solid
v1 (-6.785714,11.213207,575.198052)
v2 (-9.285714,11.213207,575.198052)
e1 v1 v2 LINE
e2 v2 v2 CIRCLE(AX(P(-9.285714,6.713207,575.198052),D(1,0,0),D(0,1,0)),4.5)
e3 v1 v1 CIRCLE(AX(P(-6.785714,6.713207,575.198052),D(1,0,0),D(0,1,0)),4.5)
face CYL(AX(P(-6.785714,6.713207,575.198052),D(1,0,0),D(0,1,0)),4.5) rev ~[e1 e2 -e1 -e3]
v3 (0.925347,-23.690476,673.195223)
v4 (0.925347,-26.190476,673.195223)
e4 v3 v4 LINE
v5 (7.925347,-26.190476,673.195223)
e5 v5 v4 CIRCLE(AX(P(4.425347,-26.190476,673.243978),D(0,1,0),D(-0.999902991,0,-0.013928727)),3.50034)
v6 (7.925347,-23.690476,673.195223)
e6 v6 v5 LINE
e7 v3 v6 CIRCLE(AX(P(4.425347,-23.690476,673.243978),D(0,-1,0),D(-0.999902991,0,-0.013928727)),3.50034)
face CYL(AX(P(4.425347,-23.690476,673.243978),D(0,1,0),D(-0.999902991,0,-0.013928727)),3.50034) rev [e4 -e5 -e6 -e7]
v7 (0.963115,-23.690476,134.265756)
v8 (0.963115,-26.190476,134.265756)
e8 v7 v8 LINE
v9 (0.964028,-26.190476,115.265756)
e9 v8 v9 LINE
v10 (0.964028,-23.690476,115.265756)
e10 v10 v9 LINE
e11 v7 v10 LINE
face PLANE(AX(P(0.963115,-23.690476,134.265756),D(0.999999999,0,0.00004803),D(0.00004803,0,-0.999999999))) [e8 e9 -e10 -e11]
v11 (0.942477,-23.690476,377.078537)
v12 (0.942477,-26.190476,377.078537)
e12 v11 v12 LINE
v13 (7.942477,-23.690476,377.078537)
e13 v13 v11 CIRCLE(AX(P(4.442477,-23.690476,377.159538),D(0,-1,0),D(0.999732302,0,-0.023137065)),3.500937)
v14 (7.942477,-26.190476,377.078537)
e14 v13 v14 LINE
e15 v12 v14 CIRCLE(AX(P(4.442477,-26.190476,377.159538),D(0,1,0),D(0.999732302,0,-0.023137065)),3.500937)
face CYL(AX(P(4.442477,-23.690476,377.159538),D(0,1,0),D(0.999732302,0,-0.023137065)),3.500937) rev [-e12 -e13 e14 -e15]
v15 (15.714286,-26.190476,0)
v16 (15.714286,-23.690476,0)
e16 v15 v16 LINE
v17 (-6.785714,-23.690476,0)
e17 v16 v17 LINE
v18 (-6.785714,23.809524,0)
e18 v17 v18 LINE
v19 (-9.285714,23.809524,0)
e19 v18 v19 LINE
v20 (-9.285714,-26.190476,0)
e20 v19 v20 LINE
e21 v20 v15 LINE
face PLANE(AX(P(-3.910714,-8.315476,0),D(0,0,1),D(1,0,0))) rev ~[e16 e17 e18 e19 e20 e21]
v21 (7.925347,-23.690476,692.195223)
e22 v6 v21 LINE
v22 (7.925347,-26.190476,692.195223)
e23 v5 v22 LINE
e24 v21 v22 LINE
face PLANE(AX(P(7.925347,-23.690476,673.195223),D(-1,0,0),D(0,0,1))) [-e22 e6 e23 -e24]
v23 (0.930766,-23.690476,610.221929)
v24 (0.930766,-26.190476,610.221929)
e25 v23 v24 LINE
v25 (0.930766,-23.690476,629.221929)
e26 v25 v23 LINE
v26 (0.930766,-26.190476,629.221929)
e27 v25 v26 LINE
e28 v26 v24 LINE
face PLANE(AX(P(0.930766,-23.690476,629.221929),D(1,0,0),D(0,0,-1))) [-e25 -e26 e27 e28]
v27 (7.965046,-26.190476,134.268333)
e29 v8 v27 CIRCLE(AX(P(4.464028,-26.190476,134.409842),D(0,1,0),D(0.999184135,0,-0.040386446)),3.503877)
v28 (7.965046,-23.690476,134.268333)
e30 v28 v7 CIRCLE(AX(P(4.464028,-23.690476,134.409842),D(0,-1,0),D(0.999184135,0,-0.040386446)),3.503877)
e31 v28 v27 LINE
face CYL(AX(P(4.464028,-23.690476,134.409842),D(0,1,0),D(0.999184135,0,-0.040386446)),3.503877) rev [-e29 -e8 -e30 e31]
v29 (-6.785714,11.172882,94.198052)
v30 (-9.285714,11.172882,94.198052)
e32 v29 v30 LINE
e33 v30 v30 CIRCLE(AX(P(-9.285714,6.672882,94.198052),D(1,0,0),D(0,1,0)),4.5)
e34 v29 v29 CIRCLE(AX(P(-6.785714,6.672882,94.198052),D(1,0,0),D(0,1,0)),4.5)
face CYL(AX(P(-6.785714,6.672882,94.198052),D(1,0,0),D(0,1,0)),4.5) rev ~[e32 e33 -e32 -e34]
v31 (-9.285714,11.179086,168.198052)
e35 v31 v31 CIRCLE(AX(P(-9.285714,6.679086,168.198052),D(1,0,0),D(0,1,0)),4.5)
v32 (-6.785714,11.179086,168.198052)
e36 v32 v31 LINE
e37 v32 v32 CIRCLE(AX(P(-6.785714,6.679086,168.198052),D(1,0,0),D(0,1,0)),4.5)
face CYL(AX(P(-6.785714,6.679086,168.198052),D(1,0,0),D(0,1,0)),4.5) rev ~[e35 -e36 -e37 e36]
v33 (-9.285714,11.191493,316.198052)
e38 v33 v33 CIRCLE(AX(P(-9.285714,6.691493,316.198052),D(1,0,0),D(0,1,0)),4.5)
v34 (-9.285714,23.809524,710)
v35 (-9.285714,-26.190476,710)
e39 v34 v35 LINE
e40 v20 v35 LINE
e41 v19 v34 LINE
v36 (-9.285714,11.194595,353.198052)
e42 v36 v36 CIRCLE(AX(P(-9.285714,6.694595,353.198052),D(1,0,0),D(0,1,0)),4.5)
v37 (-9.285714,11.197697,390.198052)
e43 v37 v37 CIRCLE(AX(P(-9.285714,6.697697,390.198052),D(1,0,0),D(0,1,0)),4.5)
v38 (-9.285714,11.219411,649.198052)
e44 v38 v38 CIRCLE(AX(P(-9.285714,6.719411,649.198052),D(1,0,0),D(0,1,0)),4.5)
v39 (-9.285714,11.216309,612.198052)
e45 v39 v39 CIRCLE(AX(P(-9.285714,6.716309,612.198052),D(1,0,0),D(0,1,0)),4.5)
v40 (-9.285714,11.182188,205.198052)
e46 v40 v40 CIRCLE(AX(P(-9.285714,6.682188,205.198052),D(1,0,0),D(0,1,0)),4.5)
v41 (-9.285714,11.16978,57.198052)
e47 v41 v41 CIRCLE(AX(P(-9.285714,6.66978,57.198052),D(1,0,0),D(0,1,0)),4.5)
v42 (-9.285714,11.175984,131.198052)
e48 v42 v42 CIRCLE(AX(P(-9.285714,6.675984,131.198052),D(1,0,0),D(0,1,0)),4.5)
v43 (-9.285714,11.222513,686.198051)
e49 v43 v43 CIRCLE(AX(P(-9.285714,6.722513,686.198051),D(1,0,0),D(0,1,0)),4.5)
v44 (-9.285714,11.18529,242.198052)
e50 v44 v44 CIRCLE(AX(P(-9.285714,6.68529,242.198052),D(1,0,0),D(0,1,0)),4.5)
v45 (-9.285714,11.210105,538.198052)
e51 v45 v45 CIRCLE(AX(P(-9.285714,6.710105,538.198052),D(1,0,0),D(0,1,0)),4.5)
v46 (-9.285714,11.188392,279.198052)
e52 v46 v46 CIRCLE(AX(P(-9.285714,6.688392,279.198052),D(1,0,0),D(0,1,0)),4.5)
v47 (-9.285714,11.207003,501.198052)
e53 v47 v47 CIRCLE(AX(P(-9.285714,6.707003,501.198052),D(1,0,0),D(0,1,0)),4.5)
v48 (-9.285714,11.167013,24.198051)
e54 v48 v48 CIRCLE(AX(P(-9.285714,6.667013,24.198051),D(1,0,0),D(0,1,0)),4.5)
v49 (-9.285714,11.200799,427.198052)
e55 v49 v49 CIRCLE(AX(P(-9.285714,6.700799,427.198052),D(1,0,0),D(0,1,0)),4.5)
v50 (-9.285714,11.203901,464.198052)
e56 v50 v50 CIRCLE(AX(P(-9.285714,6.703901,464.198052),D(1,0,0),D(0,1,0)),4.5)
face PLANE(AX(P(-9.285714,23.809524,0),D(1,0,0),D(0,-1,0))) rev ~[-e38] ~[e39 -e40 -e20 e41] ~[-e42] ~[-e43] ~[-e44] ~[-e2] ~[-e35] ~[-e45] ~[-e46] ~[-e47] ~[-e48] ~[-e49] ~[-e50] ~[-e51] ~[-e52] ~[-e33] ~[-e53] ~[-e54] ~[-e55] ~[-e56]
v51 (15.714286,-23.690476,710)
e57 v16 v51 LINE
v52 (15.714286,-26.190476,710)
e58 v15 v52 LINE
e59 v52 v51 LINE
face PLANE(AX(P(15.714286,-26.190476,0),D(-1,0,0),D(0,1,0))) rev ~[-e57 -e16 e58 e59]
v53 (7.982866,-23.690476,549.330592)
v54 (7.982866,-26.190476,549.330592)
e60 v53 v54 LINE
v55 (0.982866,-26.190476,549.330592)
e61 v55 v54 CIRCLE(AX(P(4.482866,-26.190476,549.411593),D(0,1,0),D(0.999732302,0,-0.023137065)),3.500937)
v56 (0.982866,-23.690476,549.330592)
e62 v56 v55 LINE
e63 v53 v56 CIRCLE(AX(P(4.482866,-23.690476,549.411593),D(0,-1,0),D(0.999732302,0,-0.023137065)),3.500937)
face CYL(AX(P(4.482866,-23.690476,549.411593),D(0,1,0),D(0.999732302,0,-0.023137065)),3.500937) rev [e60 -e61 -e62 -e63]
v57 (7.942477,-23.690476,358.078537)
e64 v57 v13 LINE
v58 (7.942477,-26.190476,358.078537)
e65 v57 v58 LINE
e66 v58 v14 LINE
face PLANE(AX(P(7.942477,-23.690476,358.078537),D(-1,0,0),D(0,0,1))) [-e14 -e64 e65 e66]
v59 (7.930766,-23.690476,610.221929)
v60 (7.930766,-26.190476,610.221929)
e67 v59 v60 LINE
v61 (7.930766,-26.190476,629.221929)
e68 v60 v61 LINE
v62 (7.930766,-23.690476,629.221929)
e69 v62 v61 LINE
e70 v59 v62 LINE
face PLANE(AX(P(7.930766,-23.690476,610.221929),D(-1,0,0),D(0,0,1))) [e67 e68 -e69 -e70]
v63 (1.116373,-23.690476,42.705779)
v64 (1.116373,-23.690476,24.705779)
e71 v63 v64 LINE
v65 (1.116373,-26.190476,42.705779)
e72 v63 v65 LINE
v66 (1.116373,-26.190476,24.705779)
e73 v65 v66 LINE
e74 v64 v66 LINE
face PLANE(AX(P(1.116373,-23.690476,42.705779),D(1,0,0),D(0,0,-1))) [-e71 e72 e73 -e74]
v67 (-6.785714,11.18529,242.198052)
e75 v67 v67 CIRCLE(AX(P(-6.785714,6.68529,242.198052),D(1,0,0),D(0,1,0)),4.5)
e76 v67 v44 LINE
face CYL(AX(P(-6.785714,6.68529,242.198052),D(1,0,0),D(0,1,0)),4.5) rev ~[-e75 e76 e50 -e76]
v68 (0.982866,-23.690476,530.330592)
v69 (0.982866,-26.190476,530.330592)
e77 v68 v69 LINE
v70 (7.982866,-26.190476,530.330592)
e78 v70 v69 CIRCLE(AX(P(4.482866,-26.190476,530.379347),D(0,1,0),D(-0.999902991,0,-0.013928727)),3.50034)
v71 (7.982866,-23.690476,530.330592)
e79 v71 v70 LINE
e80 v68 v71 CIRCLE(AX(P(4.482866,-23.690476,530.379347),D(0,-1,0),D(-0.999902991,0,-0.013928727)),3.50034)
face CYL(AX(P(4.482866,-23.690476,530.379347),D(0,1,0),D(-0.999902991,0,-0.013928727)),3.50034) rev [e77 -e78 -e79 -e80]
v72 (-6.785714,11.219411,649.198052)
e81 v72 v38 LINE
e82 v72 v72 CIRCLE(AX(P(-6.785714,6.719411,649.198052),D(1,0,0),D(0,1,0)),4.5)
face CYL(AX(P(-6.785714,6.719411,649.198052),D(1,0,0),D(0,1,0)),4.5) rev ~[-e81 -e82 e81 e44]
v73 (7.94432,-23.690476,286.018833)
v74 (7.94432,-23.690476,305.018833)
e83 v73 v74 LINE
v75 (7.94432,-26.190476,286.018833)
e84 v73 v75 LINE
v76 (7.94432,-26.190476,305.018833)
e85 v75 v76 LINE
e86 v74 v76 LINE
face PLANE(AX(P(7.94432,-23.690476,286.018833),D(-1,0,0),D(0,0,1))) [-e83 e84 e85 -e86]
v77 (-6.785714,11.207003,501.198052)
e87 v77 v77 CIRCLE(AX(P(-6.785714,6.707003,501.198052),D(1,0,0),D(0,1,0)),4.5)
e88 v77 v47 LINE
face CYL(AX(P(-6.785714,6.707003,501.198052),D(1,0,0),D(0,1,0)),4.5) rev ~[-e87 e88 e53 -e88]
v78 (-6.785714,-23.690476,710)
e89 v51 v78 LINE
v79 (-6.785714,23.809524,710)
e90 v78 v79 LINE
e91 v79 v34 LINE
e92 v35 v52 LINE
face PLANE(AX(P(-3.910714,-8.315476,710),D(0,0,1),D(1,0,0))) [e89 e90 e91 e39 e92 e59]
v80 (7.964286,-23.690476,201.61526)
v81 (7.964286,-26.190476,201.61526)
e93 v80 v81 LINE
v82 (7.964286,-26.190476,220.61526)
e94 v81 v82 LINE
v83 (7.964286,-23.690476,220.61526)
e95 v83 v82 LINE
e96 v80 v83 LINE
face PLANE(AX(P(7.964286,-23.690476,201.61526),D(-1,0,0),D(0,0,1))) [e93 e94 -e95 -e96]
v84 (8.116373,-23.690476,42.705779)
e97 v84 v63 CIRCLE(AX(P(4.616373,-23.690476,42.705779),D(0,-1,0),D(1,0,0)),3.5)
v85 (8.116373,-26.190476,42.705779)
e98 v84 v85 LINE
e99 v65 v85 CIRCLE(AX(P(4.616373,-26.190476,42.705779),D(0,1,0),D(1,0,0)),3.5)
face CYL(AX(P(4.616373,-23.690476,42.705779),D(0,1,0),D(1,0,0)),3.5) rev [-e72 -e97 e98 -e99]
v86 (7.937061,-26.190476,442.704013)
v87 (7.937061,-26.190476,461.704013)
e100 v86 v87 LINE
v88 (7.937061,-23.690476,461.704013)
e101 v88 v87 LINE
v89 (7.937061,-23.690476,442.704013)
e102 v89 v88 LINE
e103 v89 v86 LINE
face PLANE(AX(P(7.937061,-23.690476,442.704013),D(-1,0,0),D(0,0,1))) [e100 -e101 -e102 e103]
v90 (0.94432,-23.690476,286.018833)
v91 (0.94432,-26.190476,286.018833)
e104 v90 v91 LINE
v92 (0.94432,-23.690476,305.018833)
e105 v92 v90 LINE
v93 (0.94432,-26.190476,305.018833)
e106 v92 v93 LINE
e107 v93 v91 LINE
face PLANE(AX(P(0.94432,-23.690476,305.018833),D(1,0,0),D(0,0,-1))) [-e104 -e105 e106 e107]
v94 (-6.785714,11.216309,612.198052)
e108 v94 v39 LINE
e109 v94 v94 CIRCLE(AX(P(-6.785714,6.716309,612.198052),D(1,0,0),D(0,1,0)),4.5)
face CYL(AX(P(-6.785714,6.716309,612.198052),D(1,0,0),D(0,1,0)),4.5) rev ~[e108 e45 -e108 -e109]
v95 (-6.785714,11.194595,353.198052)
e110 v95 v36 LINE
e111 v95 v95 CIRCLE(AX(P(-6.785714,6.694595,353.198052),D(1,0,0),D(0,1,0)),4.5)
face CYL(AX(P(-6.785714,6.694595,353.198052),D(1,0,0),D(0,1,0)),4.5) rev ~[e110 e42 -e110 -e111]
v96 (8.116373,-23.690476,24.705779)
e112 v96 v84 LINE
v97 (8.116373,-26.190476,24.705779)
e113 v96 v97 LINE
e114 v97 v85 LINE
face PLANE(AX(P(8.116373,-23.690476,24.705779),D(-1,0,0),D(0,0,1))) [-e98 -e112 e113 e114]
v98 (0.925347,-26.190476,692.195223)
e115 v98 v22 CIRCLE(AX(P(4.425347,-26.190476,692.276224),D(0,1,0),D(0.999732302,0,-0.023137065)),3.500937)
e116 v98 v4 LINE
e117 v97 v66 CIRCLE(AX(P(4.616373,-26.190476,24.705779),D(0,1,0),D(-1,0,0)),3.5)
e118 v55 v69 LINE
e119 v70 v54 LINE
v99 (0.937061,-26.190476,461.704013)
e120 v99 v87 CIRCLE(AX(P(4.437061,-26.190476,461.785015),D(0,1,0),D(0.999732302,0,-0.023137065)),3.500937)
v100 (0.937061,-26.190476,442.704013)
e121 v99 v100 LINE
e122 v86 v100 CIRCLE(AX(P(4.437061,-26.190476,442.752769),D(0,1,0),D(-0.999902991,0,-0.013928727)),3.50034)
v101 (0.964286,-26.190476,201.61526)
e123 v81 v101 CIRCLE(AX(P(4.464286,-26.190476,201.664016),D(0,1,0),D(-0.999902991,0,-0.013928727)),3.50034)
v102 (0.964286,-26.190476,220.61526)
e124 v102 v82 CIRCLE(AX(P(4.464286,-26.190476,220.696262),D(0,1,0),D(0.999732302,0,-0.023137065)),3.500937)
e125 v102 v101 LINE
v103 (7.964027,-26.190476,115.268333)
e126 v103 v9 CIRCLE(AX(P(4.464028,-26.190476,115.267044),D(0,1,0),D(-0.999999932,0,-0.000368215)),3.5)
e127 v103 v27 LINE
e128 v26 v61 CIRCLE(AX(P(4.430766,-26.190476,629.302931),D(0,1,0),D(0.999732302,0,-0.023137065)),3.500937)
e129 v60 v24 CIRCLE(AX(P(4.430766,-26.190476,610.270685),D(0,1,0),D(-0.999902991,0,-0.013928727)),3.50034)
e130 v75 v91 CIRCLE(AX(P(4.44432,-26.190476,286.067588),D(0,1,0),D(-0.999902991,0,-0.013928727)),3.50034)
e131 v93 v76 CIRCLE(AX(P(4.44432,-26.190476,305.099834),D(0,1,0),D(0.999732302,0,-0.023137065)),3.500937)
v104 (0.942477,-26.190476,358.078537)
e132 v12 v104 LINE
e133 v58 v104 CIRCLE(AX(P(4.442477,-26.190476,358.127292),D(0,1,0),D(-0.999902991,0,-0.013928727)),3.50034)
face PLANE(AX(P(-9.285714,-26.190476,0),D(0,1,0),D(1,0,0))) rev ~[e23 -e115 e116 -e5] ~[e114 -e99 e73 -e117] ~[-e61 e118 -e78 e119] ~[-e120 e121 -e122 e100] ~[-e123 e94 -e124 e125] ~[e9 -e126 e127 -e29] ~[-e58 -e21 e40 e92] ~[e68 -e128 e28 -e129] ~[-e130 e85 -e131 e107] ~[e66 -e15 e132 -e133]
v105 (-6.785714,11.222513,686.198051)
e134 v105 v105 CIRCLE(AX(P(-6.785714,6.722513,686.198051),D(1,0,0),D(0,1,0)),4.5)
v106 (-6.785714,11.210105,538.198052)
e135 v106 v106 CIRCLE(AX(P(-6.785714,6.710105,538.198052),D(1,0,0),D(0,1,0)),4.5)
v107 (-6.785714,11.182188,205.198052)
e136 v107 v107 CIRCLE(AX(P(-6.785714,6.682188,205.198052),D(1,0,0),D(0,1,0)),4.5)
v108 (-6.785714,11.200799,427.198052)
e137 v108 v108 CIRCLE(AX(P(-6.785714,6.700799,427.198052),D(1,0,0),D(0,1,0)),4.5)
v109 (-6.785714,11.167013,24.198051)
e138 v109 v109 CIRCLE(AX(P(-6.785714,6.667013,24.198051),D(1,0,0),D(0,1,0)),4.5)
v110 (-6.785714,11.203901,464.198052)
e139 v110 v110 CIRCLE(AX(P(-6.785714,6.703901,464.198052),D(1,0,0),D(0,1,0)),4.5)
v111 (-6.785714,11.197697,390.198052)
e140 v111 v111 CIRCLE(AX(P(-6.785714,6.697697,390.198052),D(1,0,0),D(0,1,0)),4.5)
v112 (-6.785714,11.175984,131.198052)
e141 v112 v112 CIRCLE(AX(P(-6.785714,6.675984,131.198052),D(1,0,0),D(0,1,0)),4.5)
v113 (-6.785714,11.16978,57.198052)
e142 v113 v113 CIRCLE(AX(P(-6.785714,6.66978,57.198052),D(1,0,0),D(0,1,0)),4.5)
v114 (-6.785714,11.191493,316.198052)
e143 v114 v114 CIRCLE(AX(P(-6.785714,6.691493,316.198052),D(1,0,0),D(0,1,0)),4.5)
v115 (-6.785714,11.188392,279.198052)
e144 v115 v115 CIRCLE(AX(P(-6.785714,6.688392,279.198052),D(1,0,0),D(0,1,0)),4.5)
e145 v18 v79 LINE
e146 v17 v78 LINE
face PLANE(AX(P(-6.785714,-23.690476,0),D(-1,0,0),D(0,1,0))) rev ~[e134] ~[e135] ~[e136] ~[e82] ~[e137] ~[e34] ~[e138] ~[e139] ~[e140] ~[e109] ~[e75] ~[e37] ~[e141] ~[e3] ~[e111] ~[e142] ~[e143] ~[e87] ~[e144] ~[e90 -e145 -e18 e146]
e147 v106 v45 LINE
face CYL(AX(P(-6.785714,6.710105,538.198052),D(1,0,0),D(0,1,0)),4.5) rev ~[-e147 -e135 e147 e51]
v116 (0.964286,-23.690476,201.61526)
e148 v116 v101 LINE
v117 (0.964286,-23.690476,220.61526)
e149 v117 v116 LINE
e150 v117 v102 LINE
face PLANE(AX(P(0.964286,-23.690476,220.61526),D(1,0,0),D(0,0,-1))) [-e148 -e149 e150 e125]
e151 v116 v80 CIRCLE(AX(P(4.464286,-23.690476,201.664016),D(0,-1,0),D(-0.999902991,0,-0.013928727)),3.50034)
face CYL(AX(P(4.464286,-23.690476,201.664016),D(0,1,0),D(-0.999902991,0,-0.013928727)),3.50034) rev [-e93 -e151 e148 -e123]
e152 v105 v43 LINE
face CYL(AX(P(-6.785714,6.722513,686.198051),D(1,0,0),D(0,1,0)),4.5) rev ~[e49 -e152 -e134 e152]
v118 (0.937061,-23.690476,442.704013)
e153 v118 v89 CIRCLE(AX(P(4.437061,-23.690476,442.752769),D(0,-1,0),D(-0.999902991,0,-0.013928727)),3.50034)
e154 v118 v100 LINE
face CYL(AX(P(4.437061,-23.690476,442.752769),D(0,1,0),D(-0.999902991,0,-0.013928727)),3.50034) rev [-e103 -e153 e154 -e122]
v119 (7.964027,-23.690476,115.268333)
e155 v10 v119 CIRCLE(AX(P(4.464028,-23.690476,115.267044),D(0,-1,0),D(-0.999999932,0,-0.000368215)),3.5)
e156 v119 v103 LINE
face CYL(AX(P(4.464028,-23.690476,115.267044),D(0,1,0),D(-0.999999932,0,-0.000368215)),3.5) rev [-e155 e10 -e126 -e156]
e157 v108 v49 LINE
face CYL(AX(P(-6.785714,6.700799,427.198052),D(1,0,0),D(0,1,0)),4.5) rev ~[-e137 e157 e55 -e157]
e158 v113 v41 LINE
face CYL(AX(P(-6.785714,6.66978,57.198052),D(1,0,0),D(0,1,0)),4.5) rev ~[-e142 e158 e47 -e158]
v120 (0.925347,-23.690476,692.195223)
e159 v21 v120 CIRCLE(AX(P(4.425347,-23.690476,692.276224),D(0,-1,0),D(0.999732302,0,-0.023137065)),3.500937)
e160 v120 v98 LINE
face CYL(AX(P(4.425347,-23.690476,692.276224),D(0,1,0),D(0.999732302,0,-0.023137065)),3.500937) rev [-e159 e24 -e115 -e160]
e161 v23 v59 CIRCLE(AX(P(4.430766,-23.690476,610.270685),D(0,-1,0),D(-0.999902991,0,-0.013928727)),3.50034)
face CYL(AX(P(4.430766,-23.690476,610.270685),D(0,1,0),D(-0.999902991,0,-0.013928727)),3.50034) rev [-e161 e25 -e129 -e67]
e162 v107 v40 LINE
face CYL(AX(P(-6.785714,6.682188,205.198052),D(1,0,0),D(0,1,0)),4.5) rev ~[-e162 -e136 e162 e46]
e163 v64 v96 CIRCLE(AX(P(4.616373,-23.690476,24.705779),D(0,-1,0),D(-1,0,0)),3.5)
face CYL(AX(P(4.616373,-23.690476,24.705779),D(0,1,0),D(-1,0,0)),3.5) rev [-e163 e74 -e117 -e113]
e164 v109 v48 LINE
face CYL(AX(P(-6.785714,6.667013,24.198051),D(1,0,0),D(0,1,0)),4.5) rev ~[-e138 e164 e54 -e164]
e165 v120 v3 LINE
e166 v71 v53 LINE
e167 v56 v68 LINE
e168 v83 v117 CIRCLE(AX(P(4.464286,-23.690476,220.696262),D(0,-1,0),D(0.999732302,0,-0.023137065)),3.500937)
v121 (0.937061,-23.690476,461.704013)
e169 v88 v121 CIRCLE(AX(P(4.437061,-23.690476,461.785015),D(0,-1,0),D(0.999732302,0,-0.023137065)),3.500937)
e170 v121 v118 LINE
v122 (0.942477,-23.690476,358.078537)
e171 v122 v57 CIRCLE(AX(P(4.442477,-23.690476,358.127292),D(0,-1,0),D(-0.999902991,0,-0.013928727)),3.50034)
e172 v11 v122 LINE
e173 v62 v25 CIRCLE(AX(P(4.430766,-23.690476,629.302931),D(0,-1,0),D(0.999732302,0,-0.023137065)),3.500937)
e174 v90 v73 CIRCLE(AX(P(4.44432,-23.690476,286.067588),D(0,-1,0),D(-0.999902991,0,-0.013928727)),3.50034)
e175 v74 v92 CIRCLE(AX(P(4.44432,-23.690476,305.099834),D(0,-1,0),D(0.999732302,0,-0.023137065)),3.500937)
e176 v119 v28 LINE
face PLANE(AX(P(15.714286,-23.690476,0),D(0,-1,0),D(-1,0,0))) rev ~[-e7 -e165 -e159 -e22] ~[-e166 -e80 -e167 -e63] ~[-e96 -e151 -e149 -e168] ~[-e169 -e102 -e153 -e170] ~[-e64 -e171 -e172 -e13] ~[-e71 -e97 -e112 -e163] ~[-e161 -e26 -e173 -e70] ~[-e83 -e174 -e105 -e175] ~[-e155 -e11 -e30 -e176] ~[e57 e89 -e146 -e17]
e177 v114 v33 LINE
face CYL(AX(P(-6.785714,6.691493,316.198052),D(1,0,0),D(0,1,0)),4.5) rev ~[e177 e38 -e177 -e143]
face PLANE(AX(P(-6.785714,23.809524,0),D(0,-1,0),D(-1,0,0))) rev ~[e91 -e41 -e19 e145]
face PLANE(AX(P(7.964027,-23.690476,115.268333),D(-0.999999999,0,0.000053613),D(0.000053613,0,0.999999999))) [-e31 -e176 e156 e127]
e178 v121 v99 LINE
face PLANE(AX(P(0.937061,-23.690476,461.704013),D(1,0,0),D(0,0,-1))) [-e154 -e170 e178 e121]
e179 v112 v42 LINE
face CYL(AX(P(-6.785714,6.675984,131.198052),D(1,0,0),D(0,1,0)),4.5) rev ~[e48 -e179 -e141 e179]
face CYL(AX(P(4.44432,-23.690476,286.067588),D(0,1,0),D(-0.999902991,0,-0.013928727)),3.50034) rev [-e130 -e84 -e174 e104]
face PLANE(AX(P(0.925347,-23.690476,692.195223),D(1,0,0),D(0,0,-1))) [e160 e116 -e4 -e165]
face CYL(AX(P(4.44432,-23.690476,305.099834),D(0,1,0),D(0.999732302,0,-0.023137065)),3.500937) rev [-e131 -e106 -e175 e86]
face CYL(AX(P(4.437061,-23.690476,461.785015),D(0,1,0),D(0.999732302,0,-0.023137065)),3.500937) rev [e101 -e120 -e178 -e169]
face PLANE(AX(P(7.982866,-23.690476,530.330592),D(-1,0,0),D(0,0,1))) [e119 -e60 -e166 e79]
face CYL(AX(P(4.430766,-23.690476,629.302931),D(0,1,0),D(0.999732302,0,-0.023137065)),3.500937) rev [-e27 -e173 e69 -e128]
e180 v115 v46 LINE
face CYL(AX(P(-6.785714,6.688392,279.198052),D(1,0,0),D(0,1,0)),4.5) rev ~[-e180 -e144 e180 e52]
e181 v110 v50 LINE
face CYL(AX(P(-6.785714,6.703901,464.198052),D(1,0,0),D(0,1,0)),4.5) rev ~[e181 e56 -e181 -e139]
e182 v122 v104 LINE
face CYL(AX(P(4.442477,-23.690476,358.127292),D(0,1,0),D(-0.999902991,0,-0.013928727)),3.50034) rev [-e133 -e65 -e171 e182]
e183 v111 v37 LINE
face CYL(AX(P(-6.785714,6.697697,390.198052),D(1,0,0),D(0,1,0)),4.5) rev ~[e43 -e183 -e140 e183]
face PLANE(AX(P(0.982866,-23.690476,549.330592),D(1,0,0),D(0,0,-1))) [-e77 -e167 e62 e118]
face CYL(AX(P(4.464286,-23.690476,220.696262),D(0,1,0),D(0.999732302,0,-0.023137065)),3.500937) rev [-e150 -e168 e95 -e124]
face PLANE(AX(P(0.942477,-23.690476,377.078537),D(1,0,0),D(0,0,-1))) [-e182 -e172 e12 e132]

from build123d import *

# Parameters (mm, degrees)
BOSS_EXTRUDE1_DEPTH = 710
SKETCH2_R           = 4.5
CUT_EXTRUDE1_DEPTH  = 10
CUT_EXTRUDE2_DEPTH  = 10


with BuildPart() as part:
    # Sketch1 → Boss-Extrude1 (new body)
    with BuildSketch(Plane.XY):
        Polygon((-9.285714286, 23.80952381), (-9.285714286, -26.19047619), (15.714285714, -26.19047619), (15.714285714, -23.69047619), (-6.785714286, -23.69047619), (-6.785714286, 23.80952381), align=None)
    extrude(amount=BOSS_EXTRUDE1_DEPTH)

    # Sketch2 → Cut-Extrude1 (cut)
    with BuildSketch(Plane(origin=(-6.785714286, 0, 0), x_dir=(0, 0, -1), z_dir=(1, 0, 0))):
        with Locations(Location((-649.198051525, 6.719410966, 0), (0, 0, 90))):
            Circle(SKETCH2_R)
        with Locations(Location((-612.198051525, 6.716309021, 0), (0, 0, 90))):
            Circle(SKETCH2_R)
        with Locations(Location((-575.198051525, 6.713207076, 0), (0, 0, 90))):
            Circle(SKETCH2_R)
        with Locations(Location((-242.198051785, 6.685289571, 0), (0, 0, 90))):
            Circle(SKETCH2_R)
        with Locations(Location((-279.198051785, 6.688391516, 0), (0, 0, 90))):
            Circle(SKETCH2_R)
        with Locations(Location((-538.198051525, 6.710105131, 0), (0, 0, 90))):
            Circle(SKETCH2_R)
        with Locations(Location((-501.198051525, 6.707003186, 0), (0, 0, 90))):
            Circle(SKETCH2_R)
        with Locations(Location((-464.198051525, 6.703901241, 0), (0, 0, 90))):
            Circle(SKETCH2_R)
        with Locations(Location((-427.198051525, 6.700799296, 0), (0, 0, 90))):
            Circle(SKETCH2_R)
        with Locations(Location((-390.198051525, 6.697697351, 0), (0, 0, 90))):
            Circle(SKETCH2_R)
        with Locations(Location((-353.198051655, 6.694595406, 0), (0, 0, 90))):
            Circle(SKETCH2_R)
        with Locations(Location((-316.198051785, 6.691493461, 0), (0, 0, 90))):
            Circle(SKETCH2_R)
        with Locations(Location((-686.198051395, 6.722512911, 0), (0, 0, 90))):
            Circle(SKETCH2_R)
        with Locations(Location((-24.198051395, 6.667013246, 0), (0, 0, 90))):
            Circle(SKETCH2_R)
        with Locations(Location((-57.198052435, 6.669779846, 0), (0, 0, 90))):
            Circle(SKETCH2_R)
        with Locations(Location((-205.198051915, 6.682187626, 0), (0, 0, 90))):
            Circle(SKETCH2_R)
        with Locations(Location((-168.198052045, 6.679085681, 0), (0, 0, 90))):
            Circle(SKETCH2_R)
        with Locations(Location((-131.198052175, 6.675983736, 0), (0, 0, 90))):
            Circle(SKETCH2_R)
        with Locations(Location((-94.198052305, 6.672881791, 0), (0, 0, 90))):
            Circle(SKETCH2_R)
    extrude(amount=-CUT_EXTRUDE1_DEPTH, mode=Mode.SUBTRACT)

    # Sketch3 → Cut-Extrude2 (cut)
    with BuildSketch(Plane(origin=(0, -23.69047619, 0), x_dir=(1, 0, 0), z_dir=(0, 1, 0))):
        with BuildLine():
            Line((0.964285714, -220.615260366), (0.964285714, -201.615260366))
            ThreePointArc((0.964285714, -201.615260366), (4.464285714, -198.163676075), (7.964285714, -201.615260366))
            Line((7.964285714, -201.615260366), (7.964285714, -220.615260366))
            ThreePointArc((7.964285714, -220.615260366), (4.464285714, -224.19719897), (0.964285714, -220.615260366))
        make_face()
        with BuildLine():
            Line((0.963115287, -134.265755564), (0.964027858, -115.265755586))
            ThreePointArc((0.964027858, -115.265755586), (4.465316374, -111.767044577), (7.964027383, -115.268333093))
            Line((7.964027383, -115.268333093), (7.965046039, -134.268333066))
            ThreePointArc((7.965046039, -134.268333066), (4.462738275, -137.913718588), (0.963115287, -134.265755564))
        make_face()
        with BuildLine():
            Line((1.116372812, -42.705779315), (1.116372812, -24.705779315))
            ThreePointArc((1.116372812, -24.705779315), (4.616372812, -21.205779315), (8.116372812, -24.705779315))
            Line((8.116372812, -24.705779315), (8.116372812, -42.705779315))
            ThreePointArc((8.116372812, -42.705779315), (4.616372812, -46.205779315), (1.116372812, -42.705779315))
        make_face()
        with BuildLine():
            Line((0.944319512, -305.018833037), (0.944319512, -286.018833037))
            ThreePointArc((0.944319512, -286.018833037), (4.444319512, -282.567248747), (7.944319512, -286.018833037))
            Line((7.944319512, -286.018833037), (7.944319512, -305.018833037))
            ThreePointArc((7.944319512, -305.018833037), (4.444319512, -308.600771642), (0.944319512, -305.018833037))
        make_face()
        with BuildLine():
            Line((0.942476542, -377.078536786), (0.942476542, -358.078536786))
            ThreePointArc((0.942476542, -358.078536786), (4.442476542, -354.626952496), (7.942476542, -358.078536786))
            Line((7.942476542, -358.078536786), (7.942476542, -377.078536786))
            ThreePointArc((7.942476542, -377.078536786), (4.442476542, -380.660475391), (0.942476542, -377.078536786))
        make_face()
        with BuildLine():
            Line((0.937060946, -461.70401329), (0.937060946, -442.70401329))
            ThreePointArc((0.937060946, -442.70401329), (4.437060946, -439.252429), (7.937060946, -442.70401329))
            Line((7.937060946, -442.70401329), (7.937060946, -461.70401329))
            ThreePointArc((7.937060946, -461.70401329), (4.437060946, -465.285951895), (0.937060946, -461.70401329))
        make_face()
        with BuildLine():
            Line((0.982865657, -549.330591868), (0.982865657, -530.330591868))
            ThreePointArc((0.982865657, -530.330591868), (4.482865657, -526.879007577), (7.982865657, -530.330591868))
            Line((7.982865657, -530.330591868), (7.982865657, -549.330591868))
            ThreePointArc((7.982865657, -549.330591868), (4.482865657, -552.912530473), (0.982865657, -549.330591868))
        make_face()
        with BuildLine():
            Line((0.930766494, -629.221929405), (0.930766494, -610.221929405))
            ThreePointArc((0.930766494, -610.221929405), (4.430766494, -606.770345115), (7.930766494, -610.221929405))
            Line((7.930766494, -610.221929405), (7.930766494, -629.221929405))
            ThreePointArc((7.930766494, -629.221929405), (4.430766494, -632.80386801), (0.930766494, -629.221929405))
        make_face()
        with BuildLine():
            Line((0.92534668, -692.195222709), (0.92534668, -673.195222709))
            ThreePointArc((0.92534668, -673.195222709), (4.42534668, -669.743638419), (7.92534668, -673.195222709))
            Line((7.92534668, -673.195222709), (7.92534668, -692.195222709))
            ThreePointArc((7.92534668, -692.195222709), (4.42534668, -695.777161314), (0.92534668, -692.195222709))
        make_face()
    extrude(amount=-CUT_EXTRUDE2_DEPTH, mode=Mode.SUBTRACT)


solid = part.part
